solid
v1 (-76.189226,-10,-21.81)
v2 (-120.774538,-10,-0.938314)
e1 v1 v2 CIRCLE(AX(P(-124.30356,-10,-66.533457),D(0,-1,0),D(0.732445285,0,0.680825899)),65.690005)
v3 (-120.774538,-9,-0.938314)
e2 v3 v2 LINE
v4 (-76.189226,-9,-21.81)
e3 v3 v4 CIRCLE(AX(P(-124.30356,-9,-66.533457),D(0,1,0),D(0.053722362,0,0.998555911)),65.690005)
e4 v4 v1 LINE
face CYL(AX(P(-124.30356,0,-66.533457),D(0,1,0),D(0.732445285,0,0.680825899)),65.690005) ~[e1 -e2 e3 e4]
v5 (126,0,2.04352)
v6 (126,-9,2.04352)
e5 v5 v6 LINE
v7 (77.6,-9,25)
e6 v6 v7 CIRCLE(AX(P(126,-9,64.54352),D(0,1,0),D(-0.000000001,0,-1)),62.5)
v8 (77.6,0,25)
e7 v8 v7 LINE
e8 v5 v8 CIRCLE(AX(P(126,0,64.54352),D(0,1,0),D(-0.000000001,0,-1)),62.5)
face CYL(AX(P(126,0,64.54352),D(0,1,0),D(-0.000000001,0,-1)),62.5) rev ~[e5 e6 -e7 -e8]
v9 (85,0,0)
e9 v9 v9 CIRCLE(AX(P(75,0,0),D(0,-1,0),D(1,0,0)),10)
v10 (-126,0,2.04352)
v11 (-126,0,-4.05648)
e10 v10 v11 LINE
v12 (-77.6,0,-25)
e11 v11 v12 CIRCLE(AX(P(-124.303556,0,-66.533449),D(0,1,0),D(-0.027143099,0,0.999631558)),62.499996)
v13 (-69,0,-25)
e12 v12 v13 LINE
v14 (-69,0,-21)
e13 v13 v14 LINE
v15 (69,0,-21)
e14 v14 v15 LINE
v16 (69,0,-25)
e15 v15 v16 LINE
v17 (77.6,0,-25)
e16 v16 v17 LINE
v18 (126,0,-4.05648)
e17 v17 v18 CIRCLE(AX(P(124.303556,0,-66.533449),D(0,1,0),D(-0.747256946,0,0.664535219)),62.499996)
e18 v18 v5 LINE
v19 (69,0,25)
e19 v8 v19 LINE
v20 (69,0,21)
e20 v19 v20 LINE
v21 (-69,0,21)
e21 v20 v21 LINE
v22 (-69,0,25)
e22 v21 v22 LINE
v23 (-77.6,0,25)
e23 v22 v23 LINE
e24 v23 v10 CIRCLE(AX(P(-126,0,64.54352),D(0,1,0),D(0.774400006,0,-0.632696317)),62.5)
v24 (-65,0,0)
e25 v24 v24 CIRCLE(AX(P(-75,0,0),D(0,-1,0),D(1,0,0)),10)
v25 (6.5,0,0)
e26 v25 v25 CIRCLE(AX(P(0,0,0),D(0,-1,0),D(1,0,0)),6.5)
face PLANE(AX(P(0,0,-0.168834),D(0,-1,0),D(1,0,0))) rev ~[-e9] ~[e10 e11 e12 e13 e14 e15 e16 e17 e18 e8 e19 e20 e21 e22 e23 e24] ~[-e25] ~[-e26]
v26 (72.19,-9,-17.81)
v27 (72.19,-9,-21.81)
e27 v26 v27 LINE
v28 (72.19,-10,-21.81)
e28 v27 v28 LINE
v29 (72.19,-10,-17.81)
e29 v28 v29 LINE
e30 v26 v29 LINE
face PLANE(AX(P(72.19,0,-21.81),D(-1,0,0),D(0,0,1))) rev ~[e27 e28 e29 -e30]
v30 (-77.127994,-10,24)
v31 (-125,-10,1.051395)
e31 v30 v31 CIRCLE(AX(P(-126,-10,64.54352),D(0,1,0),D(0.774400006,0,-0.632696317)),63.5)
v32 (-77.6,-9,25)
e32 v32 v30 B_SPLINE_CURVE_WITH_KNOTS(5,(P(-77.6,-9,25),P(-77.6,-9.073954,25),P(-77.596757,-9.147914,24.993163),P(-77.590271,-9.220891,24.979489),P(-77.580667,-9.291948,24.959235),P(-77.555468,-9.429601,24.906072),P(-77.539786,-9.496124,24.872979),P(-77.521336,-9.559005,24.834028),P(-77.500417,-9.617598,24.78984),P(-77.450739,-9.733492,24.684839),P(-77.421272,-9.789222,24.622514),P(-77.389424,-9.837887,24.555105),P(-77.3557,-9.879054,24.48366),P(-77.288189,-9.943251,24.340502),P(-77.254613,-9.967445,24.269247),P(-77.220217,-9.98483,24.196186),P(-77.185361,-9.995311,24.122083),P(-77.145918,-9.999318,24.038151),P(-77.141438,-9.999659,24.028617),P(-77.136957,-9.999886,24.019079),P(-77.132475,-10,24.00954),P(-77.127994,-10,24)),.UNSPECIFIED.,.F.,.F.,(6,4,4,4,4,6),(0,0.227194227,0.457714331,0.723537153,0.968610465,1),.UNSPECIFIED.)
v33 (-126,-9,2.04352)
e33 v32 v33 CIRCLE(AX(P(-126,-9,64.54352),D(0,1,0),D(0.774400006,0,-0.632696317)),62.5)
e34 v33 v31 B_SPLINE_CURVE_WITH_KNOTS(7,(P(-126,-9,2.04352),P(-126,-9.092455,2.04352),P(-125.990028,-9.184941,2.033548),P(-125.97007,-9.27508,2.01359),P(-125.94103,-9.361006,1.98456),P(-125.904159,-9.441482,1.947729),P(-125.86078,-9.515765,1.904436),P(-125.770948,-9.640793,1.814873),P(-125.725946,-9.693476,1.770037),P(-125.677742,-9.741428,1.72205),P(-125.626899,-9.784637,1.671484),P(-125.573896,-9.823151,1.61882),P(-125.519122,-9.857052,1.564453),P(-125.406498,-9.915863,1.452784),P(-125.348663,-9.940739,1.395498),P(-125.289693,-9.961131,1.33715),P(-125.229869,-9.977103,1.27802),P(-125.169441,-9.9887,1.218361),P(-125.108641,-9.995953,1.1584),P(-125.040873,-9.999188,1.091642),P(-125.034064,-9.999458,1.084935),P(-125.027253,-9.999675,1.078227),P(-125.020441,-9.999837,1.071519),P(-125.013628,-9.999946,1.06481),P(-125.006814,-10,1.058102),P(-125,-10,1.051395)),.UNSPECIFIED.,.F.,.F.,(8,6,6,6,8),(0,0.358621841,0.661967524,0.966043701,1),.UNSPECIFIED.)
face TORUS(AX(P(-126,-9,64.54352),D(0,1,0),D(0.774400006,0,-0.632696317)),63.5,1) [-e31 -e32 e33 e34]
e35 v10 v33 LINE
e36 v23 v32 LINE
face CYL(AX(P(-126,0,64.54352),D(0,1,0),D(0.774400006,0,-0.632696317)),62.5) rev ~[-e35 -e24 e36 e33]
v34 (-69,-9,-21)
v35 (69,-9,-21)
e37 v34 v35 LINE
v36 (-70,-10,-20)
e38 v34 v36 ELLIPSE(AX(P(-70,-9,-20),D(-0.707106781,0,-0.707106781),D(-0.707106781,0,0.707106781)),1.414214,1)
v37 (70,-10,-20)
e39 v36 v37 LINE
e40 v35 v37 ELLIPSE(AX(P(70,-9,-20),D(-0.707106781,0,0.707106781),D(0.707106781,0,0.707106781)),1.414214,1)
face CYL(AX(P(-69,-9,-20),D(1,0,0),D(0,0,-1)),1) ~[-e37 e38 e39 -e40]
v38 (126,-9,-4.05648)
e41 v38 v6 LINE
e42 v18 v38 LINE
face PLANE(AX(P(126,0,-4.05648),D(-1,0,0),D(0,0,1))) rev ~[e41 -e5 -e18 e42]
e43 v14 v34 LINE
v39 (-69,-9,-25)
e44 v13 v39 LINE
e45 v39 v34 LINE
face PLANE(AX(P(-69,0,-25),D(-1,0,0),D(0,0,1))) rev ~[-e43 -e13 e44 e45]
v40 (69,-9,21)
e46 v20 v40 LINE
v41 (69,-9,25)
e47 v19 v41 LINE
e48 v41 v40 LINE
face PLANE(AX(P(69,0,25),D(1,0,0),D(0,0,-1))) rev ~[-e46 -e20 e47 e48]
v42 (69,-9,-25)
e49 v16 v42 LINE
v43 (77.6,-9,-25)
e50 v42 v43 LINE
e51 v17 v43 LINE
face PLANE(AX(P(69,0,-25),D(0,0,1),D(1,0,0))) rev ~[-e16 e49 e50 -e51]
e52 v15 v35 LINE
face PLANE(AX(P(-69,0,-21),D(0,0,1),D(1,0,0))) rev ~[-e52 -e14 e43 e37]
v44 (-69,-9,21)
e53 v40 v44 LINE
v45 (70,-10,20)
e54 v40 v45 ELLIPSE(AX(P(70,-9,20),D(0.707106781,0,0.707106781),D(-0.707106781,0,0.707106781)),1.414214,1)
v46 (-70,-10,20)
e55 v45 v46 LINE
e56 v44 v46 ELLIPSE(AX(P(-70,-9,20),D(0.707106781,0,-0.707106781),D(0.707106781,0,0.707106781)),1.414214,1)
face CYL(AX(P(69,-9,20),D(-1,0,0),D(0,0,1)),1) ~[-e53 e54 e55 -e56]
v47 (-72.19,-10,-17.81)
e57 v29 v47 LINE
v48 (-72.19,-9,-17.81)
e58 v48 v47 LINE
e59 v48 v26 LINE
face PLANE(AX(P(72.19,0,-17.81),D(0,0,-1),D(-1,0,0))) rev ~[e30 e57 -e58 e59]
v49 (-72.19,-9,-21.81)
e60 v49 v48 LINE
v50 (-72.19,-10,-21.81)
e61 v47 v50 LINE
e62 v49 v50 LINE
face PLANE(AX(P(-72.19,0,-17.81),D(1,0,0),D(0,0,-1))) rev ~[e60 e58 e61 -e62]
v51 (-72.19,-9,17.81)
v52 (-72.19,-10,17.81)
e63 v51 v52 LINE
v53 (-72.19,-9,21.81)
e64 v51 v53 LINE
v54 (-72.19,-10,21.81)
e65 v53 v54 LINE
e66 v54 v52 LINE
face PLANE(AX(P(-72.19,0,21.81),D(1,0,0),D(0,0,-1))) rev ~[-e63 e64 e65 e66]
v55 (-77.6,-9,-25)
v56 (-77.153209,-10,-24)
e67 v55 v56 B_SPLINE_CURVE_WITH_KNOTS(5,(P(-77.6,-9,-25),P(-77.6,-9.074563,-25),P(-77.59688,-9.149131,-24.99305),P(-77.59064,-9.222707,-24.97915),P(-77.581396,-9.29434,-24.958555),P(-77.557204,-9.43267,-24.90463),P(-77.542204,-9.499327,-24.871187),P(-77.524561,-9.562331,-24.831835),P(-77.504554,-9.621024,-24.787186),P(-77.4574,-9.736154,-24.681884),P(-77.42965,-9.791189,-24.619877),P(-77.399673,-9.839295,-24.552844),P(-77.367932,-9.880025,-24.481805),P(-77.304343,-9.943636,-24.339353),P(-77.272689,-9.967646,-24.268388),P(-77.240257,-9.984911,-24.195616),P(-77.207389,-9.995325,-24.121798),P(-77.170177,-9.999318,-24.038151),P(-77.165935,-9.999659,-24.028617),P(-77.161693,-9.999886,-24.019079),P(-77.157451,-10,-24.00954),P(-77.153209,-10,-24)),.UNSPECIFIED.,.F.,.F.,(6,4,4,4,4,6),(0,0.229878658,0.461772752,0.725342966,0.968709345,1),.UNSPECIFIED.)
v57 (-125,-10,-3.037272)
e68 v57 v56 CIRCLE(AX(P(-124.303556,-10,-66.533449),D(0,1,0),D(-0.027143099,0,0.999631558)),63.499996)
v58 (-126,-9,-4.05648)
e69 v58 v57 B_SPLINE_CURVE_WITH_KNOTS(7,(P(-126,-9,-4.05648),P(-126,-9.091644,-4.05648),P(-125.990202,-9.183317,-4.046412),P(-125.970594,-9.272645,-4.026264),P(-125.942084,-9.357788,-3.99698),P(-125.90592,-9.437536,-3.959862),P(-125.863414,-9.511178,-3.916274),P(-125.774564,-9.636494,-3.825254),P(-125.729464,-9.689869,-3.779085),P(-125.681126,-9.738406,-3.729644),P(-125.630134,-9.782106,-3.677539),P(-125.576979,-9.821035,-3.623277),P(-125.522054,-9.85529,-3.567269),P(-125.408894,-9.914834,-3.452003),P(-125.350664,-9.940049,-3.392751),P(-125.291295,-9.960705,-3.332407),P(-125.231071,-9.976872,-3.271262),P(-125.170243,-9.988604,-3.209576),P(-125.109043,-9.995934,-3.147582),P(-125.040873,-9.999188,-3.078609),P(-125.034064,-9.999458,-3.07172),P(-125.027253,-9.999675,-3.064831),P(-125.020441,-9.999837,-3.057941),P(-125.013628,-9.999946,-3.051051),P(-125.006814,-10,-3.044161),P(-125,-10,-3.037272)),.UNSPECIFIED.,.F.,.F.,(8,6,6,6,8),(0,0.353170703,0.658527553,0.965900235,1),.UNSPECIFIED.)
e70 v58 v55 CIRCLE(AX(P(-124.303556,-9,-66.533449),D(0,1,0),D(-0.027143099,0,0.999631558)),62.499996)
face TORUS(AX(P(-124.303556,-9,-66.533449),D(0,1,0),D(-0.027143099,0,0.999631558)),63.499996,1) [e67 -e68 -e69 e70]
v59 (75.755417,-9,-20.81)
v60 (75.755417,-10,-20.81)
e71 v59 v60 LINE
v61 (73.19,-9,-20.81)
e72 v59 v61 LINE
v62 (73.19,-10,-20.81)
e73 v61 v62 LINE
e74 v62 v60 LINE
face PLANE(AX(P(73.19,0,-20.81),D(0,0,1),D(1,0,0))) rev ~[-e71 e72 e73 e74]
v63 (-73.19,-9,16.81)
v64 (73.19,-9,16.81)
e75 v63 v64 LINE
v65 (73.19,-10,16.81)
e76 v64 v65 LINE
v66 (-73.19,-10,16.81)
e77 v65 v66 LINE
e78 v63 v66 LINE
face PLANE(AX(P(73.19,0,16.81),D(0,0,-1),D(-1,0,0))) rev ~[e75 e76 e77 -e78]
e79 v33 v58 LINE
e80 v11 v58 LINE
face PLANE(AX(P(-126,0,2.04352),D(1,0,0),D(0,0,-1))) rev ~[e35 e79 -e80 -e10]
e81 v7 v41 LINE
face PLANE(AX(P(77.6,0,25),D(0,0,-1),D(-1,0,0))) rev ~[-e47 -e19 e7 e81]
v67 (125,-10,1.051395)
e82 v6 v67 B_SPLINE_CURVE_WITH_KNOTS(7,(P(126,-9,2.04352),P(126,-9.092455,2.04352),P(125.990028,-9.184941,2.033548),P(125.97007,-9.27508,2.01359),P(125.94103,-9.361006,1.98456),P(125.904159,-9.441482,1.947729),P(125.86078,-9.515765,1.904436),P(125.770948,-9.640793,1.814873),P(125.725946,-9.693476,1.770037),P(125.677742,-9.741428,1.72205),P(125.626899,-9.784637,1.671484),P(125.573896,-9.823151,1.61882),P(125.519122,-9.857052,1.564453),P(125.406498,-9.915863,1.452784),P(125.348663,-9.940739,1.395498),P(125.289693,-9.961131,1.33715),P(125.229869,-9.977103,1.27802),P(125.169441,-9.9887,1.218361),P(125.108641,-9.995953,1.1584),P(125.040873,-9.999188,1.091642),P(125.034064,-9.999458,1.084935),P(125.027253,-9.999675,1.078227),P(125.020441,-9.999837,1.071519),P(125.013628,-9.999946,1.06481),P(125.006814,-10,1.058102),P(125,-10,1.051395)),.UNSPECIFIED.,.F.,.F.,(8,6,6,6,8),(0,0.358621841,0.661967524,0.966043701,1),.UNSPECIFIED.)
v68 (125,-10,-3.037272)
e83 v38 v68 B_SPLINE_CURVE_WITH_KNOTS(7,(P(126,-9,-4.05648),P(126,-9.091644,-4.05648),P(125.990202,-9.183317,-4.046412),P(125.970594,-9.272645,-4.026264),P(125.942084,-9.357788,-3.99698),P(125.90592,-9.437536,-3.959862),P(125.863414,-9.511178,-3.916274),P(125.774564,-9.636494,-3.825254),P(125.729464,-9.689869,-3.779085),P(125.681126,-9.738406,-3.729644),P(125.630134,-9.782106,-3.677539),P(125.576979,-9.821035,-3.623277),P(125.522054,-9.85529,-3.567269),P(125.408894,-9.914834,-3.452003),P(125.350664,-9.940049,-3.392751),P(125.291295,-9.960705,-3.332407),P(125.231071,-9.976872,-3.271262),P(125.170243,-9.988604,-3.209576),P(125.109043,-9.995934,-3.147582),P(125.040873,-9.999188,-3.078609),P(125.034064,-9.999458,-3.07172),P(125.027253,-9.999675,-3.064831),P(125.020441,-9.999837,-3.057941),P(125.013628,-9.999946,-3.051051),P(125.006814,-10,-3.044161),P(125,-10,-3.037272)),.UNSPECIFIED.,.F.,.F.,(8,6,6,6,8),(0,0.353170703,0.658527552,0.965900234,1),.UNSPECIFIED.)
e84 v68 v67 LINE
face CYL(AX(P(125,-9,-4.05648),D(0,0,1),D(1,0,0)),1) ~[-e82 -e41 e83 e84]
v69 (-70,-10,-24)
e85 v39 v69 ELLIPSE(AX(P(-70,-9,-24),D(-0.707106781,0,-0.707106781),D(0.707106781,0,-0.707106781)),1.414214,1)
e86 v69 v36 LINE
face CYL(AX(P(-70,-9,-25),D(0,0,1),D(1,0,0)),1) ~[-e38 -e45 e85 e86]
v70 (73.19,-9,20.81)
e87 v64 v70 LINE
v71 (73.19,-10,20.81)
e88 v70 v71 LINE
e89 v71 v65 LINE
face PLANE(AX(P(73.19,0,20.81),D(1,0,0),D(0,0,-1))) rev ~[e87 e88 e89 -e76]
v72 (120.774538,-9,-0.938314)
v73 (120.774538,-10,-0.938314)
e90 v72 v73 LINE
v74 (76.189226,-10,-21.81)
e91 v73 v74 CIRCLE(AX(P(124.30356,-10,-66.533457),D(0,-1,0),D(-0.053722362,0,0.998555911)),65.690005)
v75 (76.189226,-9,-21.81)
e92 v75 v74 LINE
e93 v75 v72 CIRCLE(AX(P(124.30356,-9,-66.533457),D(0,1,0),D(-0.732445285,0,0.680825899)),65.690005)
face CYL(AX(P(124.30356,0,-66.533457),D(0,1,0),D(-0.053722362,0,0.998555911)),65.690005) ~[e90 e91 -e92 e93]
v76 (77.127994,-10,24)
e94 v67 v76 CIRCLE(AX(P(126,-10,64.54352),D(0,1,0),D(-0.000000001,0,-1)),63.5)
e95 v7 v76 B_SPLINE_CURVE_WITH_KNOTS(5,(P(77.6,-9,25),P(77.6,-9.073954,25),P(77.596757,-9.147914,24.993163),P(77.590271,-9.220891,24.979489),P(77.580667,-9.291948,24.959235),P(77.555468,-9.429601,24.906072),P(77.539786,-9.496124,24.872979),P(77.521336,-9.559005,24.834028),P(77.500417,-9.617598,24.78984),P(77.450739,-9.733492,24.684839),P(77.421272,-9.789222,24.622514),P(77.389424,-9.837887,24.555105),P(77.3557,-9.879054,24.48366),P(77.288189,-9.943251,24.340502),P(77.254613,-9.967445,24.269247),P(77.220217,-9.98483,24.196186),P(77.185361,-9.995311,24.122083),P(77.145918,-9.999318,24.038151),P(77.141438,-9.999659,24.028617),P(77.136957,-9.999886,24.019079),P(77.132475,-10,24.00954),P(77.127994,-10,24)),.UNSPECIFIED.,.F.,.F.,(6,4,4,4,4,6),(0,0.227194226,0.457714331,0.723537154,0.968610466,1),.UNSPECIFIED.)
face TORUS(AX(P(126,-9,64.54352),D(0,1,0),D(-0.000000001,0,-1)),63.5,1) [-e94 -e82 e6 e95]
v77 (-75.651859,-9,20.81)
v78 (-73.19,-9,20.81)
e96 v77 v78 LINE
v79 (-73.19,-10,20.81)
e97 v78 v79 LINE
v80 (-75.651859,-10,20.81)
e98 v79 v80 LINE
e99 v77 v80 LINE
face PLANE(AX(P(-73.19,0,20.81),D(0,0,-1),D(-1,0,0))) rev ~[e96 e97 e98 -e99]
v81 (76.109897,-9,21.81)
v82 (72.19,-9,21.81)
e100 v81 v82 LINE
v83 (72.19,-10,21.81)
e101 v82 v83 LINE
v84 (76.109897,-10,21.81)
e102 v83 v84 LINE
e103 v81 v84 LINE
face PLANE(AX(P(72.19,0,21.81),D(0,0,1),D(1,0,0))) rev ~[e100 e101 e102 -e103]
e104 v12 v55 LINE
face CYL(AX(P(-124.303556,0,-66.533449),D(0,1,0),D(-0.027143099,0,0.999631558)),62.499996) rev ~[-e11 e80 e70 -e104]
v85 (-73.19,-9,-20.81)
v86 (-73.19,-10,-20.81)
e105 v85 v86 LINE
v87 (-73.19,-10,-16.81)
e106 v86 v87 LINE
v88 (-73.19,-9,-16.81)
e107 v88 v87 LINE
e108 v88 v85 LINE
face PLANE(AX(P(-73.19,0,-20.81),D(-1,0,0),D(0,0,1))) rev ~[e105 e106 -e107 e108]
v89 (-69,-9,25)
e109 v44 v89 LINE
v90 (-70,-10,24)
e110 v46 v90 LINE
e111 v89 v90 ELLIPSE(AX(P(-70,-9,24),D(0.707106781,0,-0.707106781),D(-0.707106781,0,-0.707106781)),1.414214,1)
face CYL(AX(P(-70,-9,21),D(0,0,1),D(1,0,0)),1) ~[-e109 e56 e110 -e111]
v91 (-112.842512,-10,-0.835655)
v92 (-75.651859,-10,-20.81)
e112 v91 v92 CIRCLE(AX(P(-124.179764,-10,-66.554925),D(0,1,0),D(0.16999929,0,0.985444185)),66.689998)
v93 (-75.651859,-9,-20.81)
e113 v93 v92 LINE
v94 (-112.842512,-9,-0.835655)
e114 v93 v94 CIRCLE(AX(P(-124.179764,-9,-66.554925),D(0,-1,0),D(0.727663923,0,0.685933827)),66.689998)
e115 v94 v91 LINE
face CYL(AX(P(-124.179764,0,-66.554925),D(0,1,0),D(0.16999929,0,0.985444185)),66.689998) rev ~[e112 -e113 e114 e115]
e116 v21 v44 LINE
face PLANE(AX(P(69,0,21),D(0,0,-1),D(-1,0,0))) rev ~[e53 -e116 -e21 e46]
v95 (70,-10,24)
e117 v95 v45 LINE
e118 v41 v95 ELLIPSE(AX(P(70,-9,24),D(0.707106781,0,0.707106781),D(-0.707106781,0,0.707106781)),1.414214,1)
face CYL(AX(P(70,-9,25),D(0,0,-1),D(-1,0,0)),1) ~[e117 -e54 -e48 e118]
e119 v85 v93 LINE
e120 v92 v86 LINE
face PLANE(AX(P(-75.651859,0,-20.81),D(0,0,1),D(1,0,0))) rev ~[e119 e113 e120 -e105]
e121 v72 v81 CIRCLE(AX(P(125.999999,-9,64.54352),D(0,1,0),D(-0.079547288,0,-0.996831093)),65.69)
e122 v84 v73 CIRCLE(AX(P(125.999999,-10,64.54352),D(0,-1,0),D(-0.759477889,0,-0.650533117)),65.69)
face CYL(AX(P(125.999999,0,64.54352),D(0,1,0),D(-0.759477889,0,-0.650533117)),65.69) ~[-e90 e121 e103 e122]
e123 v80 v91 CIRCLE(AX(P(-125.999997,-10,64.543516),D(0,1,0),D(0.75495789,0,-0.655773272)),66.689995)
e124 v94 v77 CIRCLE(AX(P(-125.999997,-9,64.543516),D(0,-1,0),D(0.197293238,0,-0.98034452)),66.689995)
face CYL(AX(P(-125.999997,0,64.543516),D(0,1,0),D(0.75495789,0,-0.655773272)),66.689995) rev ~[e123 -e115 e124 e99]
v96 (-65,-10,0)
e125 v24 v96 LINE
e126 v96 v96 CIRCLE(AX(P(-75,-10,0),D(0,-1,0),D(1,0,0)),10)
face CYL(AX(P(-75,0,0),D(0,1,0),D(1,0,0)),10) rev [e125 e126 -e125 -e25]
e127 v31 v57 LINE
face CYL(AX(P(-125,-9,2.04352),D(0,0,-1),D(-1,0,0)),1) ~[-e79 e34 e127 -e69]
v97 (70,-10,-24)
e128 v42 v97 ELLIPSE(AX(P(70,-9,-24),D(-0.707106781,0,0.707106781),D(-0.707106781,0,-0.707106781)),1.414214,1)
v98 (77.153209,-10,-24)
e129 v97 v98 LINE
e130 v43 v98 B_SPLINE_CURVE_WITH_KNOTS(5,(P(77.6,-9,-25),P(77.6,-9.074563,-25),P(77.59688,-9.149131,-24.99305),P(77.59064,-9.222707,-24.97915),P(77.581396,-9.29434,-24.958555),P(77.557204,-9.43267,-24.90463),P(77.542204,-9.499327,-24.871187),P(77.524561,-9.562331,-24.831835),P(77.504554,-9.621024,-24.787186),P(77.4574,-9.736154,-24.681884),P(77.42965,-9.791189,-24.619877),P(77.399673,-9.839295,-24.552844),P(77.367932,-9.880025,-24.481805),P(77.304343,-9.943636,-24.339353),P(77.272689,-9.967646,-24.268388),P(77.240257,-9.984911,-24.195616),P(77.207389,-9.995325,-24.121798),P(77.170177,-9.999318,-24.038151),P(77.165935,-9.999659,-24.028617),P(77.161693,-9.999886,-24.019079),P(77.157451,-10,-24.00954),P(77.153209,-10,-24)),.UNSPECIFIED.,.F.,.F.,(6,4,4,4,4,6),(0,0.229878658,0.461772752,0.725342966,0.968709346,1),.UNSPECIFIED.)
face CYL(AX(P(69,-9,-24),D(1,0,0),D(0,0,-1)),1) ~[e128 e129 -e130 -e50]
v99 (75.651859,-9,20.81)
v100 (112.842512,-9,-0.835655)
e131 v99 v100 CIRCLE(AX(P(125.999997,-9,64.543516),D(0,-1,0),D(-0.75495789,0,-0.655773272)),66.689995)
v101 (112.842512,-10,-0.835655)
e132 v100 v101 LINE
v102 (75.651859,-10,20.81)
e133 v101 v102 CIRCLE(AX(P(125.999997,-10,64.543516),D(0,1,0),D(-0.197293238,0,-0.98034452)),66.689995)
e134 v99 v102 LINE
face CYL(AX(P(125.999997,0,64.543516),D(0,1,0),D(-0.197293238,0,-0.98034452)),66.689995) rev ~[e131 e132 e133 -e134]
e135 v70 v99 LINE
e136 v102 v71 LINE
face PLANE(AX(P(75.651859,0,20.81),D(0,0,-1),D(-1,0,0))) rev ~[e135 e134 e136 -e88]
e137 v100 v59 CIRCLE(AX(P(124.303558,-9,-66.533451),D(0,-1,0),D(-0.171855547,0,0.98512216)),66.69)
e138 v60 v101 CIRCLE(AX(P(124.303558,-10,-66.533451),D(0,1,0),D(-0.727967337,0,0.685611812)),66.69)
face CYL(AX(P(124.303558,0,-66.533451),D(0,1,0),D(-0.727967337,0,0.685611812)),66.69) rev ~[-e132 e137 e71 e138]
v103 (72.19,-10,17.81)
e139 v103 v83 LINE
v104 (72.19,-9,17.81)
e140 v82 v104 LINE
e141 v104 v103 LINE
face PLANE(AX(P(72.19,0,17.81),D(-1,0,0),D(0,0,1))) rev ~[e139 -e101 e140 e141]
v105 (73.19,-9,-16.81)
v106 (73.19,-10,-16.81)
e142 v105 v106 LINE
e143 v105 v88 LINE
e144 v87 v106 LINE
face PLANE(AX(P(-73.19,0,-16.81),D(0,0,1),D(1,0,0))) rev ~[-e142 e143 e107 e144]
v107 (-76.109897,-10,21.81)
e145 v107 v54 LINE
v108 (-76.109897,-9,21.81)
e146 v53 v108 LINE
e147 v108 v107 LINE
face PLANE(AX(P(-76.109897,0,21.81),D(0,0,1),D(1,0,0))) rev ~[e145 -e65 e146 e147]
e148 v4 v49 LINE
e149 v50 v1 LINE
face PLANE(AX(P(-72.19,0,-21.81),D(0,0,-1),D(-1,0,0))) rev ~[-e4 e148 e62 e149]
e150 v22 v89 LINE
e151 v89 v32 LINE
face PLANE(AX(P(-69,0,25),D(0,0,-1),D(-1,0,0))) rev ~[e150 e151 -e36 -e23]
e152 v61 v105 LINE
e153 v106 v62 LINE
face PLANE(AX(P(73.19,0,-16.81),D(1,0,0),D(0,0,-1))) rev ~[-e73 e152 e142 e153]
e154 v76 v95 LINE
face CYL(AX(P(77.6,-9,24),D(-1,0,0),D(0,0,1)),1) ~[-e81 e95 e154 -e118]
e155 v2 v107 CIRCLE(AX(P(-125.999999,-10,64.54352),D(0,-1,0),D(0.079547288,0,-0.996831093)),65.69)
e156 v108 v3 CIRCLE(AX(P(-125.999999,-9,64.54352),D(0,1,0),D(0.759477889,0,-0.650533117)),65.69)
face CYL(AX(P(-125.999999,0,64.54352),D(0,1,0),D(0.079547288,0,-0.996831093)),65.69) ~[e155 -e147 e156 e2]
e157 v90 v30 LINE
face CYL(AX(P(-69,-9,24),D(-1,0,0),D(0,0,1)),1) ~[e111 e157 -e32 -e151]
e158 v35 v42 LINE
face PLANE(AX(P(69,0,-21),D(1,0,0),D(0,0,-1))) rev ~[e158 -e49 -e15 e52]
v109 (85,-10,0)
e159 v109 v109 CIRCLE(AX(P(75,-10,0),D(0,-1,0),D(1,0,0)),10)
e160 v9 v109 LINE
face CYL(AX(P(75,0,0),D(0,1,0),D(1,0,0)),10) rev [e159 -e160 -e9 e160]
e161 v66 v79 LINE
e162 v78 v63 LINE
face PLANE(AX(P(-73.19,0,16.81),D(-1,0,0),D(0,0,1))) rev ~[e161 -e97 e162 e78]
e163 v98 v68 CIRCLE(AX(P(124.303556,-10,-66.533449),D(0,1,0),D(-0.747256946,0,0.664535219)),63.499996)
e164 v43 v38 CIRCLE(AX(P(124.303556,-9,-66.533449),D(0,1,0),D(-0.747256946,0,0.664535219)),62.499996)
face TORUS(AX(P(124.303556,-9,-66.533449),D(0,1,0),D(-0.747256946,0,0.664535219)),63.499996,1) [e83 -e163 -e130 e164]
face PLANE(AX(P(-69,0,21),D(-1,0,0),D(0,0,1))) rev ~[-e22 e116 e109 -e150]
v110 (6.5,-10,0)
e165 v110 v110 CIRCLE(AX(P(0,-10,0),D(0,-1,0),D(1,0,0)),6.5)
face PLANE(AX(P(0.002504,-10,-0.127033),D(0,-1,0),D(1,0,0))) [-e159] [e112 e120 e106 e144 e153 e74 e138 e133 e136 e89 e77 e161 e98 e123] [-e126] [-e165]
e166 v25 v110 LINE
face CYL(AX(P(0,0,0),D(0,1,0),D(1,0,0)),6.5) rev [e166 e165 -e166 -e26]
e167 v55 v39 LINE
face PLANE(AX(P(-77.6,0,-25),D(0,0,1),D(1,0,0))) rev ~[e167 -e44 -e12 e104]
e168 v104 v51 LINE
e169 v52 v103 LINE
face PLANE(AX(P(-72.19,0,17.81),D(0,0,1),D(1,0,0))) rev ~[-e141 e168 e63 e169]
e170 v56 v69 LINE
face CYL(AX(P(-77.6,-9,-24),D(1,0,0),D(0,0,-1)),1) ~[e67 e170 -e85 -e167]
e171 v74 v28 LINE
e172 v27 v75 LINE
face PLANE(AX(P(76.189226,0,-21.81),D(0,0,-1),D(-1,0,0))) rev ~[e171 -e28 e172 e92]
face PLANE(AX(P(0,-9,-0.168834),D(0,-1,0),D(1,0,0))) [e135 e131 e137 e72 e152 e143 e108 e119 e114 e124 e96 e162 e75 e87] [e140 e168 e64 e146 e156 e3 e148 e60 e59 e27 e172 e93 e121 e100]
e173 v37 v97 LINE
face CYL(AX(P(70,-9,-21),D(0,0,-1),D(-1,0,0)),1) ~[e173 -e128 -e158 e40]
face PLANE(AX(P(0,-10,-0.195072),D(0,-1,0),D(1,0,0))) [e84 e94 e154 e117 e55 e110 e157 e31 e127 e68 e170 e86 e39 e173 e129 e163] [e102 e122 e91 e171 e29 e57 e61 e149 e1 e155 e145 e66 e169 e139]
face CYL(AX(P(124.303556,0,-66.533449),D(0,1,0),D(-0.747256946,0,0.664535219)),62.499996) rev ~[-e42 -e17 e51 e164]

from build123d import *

# Parameters (mm, degrees)
F0_R     = 10
F0_R_2   = 6.5
F1_DEPTH = 10
F2_DEPTH = 9
F3_R     = 1


with BuildPart() as f1:
    # F0 (on Front) → F1 (new body)
    with BuildSketch(Plane.XZ):
        with BuildLine():
            Line((69, -25), (77.6, -25))
            ThreePointArc((77.6, -25), (99.482843, -9.173343), (126, -4.05648))
            Line((126, -4.05648), (126, 2.04352))
            ThreePointArc((126, 2.04352), (99.215863, 8.073528), (77.6, 25))
            Line((77.6, 25), (69, 25))
            Line((69, 25), (69, 21))
            Line((69, 21), (-69, 21))
            Line((-69, 21), (-69, 25))
            Line((-69, 25), (-77.6, 25))
            ThreePointArc((-77.6, 25), (-99.215863, 8.073528), (-126, 2.04352))
            Line((-126, 2.04352), (-126, -4.05648))
            ThreePointArc((-126, -4.05648), (-99.482843, -9.173343), (-77.6, -25))
            Line((-77.6, -25), (-69, -25))
            Line((-69, -25), (-69, -21))
            Line((-69, -21), (69, -21))
            Line((69, -21), (69, -25))
        make_face()
        with BuildLine():
            Line((-76.109897, 21.81), (-72.19, 21.81))
            Line((-72.19, 21.81), (-72.19, 17.81))
            Line((-72.19, 17.81), (72.19, 17.81))
            Line((72.19, 17.81), (72.19, 21.81))
            Line((72.19, 21.81), (76.109897, 21.81))
            ThreePointArc((76.109897, 21.81), (96.187204, 6.008289), (120.774538, -0.938314))
            ThreePointArc((120.774538, -0.938314), (96.452782, -7.039668), (76.189226, -21.81))
            Line((76.189226, -21.81), (72.19, -21.81))
            Line((72.19, -21.81), (72.19, -17.81))
            Line((72.19, -17.81), (-72.19, -17.81))
            Line((-72.19, -17.81), (-72.19, -21.81))
            Line((-72.19, -21.81), (-76.189226, -21.81))
            ThreePointArc((-76.189226, -21.81), (-96.452782, -7.039668), (-120.774538, -0.938314))
            ThreePointArc((-120.774538, -0.938314), (-96.187204, 6.008289), (-76.109897, 21.81))
        make_face(mode=Mode.SUBTRACT)
        with BuildLine():
            Line((-73.19, 16.81), (-73.19, 20.81))
            Line((-73.19, 20.81), (-75.651859, 20.81))
            ThreePointArc((-75.651859, 20.81), (-92.453393, 6.905154), (-112.842512, -0.835655))
            ThreePointArc((-112.842512, -0.835655), (-92.625004, -7.802454), (-75.651859, -20.81))
            Line((-75.651859, -20.81), (-73.19, -20.81))
            Line((-73.19, -20.81), (-73.19, -16.81))
            Line((-73.19, -16.81), (73.19, -16.81))
            Line((73.19, -16.81), (73.19, -20.81))
            Line((73.19, -20.81), (75.755417, -20.81))
            ThreePointArc((75.755417, -20.81), (92.680477, -7.817723), (112.842512, -0.835655))
            ThreePointArc((112.842512, -0.835655), (92.453393, 6.905154), (75.651859, 20.81))
            Line((75.651859, 20.81), (73.19, 20.81))
            Line((73.19, 20.81), (73.19, 16.81))
            Line((73.19, 16.81), (-73.19, 16.81))
        make_face()
        with Locations((-75, 0)):
            Circle(F0_R, mode=Mode.SUBTRACT)
        Circle(F0_R_2, mode=Mode.SUBTRACT)
        with Locations((75, 0)):
            Circle(F0_R, mode=Mode.SUBTRACT)
    extrude(amount=F1_DEPTH)

    # F0 (on Front) → F2 (join)
    with BuildSketch(Plane.XZ):
        with BuildLine():
            Line((-72.19, 17.81), (-72.19, 21.81))
            Line((-72.19, 21.81), (-76.109897, 21.81))
            ThreePointArc((-76.109897, 21.81), (-96.187204, 6.008289), (-120.774538, -0.938314))
            ThreePointArc((-120.774538, -0.938314), (-96.452782, -7.039668), (-76.189226, -21.81))
            Line((-76.189226, -21.81), (-72.19, -21.81))
            Line((-72.19, -21.81), (-72.19, -17.81))
            Line((-72.19, -17.81), (72.19, -17.81))
            Line((72.19, -17.81), (72.19, -21.81))
            Line((72.19, -21.81), (76.189226, -21.81))
            ThreePointArc((76.189226, -21.81), (96.452782, -7.039668), (120.774538, -0.938314))
            ThreePointArc((120.774538, -0.938314), (96.187204, 6.008289), (76.109897, 21.81))
            Line((76.109897, 21.81), (72.19, 21.81))
            Line((72.19, 21.81), (72.19, 17.81))
            Line((72.19, 17.81), (-72.19, 17.81))
        make_face()
        with BuildLine():
            Line((-75.651859, 20.81), (-73.19, 20.81))
            Line((-73.19, 20.81), (-73.19, 16.81))
            Line((-73.19, 16.81), (73.19, 16.81))
            Line((73.19, 16.81), (73.19, 20.81))
            Line((73.19, 20.81), (75.651859, 20.81))
            ThreePointArc((75.651859, 20.81), (92.453393, 6.905154), (112.842512, -0.835655))
            ThreePointArc((112.842512, -0.835655), (92.680477, -7.817723), (75.755417, -20.81))
            Line((75.755417, -20.81), (73.19, -20.81))
            Line((73.19, -20.81), (73.19, -16.81))
            Line((73.19, -16.81), (-73.19, -16.81))
            Line((-73.19, -16.81), (-73.19, -20.81))
            Line((-73.19, -20.81), (-75.651859, -20.81))
            ThreePointArc((-75.651859, -20.81), (-92.625004, -7.802454), (-112.842512, -0.835655))
            ThreePointArc((-112.842512, -0.835655), (-92.453393, 6.905154), (-75.651859, 20.81))
        make_face(mode=Mode.SUBTRACT)
    extrude(amount=F2_DEPTH)

    # F3
    f3_edges = [f1.edges().sort_by_distance(p)[0] for p in [
        (-99.215863, -10, 8.073528),
        (-126, -10, -1.00648),
        (-99.482843, -10, -9.173343),
        (-73.3, -10, -25),
        (-69, -10, -23),
        (0, -10, -21),
        (-73.3, -10, 25),
        (-69, -10, 23),
        (0, -10, 21),
        (69, -10, -23),
        (73.3, -10, -25),
        (99.482843, -10, -9.173343),
        (126, -10, -1.00648),
        (99.215863, -10, 8.073528),
        (73.3, -10, 25),
        (69, -10, 23),
    ]]
    fillet(f3_edges, radius=F3_R)


solid = f1.part
